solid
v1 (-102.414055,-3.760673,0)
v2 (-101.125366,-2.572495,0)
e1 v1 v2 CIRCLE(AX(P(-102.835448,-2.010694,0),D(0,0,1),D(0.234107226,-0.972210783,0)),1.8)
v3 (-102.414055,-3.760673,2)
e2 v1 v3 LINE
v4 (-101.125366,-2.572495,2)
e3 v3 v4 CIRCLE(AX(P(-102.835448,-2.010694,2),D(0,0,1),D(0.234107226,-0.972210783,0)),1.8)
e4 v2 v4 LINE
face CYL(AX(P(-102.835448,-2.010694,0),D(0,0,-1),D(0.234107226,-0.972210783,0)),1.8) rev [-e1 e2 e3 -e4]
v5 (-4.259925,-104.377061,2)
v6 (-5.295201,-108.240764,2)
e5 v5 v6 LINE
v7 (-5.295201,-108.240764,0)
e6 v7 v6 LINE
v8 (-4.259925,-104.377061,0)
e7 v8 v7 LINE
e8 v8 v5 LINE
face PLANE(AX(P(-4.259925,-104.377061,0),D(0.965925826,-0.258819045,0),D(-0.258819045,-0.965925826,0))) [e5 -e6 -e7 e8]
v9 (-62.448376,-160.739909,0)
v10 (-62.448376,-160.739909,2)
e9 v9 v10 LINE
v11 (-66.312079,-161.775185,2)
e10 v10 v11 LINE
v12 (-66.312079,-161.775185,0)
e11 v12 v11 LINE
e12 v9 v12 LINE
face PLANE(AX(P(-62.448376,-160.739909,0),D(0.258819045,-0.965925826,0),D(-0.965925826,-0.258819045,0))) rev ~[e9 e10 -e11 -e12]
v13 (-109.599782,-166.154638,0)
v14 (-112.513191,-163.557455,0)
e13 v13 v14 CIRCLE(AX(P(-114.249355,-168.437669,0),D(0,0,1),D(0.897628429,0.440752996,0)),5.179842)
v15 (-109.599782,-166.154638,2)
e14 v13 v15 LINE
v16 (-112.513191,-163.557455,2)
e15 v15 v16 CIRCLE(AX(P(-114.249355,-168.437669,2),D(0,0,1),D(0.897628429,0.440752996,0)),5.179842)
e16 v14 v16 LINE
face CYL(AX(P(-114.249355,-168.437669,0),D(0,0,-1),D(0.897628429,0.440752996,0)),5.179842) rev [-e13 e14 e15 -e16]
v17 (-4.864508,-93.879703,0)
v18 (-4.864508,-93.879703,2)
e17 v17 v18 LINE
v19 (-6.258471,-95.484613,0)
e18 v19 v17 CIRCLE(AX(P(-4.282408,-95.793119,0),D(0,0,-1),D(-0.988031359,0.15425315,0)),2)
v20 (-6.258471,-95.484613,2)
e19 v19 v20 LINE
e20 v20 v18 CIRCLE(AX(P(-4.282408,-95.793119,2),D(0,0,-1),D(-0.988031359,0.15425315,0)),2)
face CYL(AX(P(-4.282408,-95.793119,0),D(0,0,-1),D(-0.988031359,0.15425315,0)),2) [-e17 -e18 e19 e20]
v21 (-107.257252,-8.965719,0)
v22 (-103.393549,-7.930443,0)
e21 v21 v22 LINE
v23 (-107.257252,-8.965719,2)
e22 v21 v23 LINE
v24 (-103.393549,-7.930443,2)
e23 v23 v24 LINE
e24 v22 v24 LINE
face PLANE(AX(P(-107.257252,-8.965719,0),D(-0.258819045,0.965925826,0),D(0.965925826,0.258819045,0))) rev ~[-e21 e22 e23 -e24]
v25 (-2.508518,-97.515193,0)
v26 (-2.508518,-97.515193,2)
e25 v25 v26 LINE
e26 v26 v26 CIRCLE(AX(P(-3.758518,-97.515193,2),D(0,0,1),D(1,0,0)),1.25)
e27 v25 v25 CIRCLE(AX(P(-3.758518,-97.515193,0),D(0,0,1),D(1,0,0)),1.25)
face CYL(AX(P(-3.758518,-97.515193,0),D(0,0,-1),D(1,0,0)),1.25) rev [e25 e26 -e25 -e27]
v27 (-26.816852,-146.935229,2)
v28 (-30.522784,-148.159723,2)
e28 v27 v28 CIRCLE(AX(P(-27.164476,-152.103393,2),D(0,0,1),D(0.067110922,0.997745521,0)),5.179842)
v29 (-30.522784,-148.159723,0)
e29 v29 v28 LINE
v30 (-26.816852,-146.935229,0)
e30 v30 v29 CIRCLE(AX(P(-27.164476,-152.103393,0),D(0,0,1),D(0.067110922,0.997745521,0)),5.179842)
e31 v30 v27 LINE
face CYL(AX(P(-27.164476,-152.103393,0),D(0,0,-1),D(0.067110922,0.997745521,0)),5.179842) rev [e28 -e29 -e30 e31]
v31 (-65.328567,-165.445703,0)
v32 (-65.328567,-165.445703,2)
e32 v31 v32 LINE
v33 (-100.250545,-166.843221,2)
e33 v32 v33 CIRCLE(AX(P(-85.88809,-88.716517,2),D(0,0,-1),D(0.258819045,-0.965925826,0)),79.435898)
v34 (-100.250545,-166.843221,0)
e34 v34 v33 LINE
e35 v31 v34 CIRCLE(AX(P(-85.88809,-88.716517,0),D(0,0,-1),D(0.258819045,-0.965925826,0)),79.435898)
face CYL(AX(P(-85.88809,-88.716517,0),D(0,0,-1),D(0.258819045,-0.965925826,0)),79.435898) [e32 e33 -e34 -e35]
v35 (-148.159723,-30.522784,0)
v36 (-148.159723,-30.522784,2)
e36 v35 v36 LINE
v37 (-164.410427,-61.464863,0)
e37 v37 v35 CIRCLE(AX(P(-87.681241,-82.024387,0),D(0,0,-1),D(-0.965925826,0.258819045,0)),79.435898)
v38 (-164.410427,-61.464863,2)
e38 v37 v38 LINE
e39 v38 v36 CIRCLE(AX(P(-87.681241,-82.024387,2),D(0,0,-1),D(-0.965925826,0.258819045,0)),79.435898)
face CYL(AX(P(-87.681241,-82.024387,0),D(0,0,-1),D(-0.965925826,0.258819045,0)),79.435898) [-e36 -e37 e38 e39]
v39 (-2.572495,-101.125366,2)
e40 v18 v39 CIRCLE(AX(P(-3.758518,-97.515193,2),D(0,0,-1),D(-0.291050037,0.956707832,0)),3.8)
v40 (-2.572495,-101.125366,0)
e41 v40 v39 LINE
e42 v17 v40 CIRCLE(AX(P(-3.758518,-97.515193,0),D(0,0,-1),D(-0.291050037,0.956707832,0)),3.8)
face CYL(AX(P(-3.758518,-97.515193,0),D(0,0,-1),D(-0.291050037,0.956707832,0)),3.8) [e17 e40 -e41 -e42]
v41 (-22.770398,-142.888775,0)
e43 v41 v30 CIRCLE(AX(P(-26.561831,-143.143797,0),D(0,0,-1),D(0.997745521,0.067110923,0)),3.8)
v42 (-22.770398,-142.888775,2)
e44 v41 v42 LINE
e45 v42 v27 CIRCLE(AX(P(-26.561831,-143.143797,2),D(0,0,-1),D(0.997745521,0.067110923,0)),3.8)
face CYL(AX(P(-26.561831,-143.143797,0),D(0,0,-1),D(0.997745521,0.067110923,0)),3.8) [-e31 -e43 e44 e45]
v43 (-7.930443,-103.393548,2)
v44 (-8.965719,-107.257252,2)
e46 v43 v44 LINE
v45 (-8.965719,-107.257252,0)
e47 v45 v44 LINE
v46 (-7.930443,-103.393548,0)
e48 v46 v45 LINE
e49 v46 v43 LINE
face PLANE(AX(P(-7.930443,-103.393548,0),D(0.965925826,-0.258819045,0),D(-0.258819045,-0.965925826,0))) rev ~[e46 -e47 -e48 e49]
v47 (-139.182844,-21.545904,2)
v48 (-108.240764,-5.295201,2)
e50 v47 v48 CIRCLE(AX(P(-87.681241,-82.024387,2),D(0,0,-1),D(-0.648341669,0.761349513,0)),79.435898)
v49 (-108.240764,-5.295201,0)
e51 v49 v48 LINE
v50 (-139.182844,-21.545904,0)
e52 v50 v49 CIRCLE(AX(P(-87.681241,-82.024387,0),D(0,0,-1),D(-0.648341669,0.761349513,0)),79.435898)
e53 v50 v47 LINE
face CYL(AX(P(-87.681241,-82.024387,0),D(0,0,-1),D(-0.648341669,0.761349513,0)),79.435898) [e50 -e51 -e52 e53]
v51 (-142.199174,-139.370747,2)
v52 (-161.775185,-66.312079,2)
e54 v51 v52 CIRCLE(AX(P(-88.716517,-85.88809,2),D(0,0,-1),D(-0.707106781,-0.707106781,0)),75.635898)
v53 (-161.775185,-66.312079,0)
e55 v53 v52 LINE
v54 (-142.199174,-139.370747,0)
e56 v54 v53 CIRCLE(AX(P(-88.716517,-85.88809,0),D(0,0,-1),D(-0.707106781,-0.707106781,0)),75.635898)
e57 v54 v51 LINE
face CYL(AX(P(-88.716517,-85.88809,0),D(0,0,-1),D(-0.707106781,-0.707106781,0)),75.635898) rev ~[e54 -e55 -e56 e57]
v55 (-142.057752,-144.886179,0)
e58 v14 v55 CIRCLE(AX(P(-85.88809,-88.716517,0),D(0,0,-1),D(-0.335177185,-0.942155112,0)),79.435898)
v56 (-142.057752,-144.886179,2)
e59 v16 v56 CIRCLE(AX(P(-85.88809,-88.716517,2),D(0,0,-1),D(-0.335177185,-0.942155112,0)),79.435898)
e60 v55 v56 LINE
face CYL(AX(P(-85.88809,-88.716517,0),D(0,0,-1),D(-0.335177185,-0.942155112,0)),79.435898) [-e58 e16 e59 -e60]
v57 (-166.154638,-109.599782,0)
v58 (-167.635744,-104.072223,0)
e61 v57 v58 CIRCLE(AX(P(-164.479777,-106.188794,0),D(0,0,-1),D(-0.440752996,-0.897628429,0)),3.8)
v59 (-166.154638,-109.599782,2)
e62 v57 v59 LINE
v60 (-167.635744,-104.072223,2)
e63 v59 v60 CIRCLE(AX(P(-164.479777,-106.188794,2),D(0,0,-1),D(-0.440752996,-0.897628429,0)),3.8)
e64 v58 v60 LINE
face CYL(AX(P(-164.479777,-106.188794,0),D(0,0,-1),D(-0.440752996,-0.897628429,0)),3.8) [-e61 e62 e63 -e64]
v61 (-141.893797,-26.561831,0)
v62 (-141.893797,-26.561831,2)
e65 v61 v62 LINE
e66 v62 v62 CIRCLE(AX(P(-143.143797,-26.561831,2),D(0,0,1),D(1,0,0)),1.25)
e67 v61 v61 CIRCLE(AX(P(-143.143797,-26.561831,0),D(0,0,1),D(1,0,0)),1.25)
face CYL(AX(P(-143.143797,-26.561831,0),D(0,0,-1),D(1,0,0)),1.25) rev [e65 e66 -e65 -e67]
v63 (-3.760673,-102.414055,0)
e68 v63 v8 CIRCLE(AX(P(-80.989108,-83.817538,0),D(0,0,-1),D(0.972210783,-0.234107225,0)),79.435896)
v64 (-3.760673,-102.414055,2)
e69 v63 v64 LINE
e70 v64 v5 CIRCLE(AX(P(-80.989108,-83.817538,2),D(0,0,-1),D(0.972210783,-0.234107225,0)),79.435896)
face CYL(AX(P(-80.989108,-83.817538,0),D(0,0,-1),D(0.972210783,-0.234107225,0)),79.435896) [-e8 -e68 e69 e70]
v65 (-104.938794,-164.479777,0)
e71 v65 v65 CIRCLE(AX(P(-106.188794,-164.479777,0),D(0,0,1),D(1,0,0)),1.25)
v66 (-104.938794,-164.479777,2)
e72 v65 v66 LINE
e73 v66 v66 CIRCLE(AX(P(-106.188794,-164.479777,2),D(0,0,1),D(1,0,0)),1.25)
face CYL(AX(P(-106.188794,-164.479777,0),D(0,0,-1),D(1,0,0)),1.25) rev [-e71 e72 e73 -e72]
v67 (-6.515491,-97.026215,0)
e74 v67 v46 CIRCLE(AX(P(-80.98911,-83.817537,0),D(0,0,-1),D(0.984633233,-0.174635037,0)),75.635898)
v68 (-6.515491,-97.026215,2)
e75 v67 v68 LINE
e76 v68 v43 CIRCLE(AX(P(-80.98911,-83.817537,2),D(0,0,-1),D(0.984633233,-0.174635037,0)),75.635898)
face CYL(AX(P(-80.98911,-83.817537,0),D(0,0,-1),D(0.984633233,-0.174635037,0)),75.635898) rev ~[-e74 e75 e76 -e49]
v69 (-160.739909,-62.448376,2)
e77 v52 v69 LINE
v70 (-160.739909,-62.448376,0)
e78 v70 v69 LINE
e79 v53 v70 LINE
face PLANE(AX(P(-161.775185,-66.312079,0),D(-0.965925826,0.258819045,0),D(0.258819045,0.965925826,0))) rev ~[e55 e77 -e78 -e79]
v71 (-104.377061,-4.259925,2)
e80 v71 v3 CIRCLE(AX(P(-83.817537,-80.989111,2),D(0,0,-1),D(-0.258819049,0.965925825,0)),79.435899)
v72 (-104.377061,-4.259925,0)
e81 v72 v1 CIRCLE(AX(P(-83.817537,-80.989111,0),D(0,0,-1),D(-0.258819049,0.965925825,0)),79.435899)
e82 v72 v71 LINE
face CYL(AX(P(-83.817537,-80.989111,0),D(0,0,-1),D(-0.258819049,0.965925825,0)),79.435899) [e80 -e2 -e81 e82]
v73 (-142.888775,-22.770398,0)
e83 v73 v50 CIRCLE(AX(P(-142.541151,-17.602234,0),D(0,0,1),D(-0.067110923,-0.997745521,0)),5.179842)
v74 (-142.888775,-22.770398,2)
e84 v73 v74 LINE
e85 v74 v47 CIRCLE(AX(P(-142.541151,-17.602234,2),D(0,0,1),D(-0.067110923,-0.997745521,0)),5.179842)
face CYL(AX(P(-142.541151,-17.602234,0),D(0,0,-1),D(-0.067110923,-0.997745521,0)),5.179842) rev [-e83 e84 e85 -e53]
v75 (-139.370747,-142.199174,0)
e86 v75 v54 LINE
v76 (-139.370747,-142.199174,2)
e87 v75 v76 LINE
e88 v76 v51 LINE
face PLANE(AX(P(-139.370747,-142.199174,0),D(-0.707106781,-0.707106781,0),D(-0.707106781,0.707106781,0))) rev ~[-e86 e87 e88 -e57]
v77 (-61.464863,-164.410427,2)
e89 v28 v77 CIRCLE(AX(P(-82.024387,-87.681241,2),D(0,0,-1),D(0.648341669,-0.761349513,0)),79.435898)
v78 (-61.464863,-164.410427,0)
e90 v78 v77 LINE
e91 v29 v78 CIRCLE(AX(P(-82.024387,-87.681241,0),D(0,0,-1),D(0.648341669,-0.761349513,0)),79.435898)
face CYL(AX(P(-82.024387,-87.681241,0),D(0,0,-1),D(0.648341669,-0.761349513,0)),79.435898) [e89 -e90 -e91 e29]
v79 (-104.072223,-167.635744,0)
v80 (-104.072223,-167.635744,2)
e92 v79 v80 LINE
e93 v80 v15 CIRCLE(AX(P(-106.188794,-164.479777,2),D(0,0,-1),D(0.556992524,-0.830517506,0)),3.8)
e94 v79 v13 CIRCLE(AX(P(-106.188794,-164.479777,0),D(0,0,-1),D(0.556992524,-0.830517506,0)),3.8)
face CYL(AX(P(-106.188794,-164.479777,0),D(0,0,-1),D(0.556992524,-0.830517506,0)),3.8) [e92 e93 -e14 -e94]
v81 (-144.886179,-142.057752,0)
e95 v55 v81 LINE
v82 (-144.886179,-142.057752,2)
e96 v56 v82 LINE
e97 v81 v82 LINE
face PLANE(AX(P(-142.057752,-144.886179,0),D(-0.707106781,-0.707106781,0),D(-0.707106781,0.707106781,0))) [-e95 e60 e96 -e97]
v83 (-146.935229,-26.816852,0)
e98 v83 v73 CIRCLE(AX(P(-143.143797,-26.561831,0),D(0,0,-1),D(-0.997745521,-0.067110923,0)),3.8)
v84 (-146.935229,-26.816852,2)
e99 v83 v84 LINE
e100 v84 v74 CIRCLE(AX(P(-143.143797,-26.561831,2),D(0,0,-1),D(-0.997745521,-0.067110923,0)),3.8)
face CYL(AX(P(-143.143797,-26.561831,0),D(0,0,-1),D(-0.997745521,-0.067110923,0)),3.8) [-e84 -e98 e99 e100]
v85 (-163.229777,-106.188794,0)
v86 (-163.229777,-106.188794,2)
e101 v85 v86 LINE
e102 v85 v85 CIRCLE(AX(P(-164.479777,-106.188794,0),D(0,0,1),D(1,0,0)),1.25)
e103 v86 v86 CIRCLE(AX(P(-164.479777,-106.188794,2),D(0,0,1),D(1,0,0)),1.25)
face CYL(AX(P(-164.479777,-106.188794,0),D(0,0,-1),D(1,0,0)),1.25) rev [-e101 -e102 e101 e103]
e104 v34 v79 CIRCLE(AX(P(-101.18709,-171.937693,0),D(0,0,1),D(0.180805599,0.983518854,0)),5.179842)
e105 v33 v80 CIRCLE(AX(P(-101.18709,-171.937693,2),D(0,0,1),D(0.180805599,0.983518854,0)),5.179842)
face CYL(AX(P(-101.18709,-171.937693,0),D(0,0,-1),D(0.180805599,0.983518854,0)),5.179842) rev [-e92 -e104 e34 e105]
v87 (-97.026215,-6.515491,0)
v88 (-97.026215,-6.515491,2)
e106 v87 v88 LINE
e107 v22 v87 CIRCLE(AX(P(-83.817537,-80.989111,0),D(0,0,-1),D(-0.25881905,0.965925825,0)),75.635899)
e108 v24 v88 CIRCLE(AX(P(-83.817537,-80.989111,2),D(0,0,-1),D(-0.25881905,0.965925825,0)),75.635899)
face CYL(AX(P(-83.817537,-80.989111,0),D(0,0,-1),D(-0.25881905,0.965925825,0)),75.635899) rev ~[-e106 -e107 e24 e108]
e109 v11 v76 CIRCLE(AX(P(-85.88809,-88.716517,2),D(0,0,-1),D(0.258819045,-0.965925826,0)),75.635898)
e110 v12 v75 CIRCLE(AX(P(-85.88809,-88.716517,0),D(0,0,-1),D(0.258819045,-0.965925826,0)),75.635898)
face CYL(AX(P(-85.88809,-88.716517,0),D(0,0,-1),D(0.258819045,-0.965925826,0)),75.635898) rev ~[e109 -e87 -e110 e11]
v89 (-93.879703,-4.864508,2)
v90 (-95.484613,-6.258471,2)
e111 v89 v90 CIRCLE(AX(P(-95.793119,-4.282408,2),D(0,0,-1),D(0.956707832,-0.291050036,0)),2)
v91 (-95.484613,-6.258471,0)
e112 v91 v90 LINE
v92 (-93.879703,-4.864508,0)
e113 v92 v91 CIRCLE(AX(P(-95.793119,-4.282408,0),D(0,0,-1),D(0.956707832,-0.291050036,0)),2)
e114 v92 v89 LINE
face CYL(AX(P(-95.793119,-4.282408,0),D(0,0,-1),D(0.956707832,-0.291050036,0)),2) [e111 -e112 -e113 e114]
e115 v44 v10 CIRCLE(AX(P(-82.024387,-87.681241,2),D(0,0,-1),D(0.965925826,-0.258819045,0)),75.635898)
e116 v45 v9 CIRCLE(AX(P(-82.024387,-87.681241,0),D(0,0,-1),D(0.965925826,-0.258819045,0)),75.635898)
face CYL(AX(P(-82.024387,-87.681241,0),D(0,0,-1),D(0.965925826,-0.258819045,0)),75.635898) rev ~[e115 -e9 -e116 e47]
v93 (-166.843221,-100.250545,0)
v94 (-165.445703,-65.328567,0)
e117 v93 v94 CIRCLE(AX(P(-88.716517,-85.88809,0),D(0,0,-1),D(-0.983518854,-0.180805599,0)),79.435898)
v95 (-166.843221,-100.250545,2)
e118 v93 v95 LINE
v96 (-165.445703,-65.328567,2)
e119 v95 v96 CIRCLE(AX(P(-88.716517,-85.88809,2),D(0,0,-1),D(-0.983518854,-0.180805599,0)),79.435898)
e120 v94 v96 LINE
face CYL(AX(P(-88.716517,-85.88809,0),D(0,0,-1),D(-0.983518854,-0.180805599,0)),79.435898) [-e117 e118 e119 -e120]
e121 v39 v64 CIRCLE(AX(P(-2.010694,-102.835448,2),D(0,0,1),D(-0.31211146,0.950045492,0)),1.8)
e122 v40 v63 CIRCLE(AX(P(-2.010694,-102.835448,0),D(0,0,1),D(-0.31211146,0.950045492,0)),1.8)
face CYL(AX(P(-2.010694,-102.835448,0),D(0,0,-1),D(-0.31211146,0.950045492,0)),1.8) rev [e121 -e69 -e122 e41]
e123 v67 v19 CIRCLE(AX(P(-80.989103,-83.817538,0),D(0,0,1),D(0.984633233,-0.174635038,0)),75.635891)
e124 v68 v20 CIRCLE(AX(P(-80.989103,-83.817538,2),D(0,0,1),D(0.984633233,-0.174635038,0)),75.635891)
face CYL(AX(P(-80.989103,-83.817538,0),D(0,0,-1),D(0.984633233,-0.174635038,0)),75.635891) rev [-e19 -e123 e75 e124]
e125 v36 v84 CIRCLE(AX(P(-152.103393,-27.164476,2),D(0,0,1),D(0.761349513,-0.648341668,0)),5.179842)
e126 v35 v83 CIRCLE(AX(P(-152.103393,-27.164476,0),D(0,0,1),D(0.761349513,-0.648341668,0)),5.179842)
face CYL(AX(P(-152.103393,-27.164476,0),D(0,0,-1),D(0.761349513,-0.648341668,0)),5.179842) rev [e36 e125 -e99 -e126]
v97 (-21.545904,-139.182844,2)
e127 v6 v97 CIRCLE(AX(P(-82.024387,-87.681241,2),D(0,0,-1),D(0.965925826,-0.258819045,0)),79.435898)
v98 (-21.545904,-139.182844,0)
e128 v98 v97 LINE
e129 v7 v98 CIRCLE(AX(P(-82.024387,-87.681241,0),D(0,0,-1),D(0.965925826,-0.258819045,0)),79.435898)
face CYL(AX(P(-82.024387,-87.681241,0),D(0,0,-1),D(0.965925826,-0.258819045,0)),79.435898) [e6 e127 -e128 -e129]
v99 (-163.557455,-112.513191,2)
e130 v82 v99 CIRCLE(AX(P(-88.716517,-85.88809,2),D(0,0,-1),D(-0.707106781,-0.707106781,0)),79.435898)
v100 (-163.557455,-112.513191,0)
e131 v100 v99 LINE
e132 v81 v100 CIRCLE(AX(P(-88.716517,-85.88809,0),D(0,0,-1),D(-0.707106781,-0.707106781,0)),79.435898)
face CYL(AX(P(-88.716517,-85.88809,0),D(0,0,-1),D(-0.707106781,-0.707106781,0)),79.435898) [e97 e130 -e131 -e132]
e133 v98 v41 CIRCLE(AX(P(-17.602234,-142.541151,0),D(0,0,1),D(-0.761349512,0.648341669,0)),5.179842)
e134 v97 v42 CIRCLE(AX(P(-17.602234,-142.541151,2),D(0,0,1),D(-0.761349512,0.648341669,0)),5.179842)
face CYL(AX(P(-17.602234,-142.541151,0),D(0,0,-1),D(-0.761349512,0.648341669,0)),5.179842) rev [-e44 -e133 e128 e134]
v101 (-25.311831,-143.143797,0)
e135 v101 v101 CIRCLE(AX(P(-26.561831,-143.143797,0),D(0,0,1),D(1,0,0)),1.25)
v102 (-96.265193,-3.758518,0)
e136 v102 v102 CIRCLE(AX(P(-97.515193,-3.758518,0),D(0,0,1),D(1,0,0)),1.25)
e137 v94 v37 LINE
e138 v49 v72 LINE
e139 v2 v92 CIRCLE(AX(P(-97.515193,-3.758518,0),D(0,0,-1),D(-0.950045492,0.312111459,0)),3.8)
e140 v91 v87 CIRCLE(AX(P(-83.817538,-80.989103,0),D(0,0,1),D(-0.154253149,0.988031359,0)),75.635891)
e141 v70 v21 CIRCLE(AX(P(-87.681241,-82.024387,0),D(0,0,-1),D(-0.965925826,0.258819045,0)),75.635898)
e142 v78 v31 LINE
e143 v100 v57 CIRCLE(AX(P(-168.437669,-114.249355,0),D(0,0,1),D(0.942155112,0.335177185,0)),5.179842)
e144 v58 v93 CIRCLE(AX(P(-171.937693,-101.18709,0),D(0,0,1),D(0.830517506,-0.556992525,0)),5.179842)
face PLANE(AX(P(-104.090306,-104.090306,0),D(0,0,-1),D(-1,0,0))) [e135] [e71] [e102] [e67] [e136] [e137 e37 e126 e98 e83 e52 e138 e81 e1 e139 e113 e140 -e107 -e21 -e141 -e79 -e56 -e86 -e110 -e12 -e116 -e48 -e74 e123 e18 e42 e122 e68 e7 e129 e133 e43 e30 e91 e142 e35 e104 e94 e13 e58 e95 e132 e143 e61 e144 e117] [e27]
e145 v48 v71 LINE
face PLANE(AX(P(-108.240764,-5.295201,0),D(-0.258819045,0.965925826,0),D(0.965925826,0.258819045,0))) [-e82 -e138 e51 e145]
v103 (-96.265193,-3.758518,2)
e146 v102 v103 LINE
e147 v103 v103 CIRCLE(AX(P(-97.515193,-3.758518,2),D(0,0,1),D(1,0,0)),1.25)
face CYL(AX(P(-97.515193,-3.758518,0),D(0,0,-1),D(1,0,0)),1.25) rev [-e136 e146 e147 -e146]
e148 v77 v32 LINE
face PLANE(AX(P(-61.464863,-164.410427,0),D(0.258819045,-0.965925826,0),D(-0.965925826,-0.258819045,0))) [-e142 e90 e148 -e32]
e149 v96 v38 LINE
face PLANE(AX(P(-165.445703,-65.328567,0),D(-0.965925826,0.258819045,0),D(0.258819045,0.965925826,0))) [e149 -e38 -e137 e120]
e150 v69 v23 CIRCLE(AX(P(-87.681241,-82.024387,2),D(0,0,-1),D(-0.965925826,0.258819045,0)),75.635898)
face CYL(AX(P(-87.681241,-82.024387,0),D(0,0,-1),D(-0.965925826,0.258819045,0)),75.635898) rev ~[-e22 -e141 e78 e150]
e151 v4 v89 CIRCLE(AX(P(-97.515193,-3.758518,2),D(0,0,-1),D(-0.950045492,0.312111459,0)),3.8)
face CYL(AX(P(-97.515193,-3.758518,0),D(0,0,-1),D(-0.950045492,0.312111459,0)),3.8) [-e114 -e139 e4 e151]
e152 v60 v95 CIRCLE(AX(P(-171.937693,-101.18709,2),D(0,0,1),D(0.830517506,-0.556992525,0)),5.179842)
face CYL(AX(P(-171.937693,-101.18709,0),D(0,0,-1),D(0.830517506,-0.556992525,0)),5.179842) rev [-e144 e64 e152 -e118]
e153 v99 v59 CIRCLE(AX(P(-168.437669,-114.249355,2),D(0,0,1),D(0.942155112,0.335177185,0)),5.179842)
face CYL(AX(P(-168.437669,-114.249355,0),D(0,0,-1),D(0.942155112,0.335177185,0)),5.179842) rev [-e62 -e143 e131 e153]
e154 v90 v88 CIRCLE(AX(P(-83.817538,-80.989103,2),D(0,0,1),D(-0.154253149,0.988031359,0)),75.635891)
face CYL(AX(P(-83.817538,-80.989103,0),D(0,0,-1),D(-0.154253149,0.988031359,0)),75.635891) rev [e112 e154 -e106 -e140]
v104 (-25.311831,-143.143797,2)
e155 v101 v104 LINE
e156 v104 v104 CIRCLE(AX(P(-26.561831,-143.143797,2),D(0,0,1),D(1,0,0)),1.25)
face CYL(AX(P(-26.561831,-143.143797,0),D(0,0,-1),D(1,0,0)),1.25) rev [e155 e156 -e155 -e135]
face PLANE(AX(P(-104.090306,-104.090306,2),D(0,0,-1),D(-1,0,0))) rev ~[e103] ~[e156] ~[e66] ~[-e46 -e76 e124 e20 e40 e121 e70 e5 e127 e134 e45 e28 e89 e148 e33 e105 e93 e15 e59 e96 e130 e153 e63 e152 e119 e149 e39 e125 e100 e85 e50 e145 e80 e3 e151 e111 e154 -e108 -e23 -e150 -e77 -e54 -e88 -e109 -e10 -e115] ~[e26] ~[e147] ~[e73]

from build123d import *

# Parameters (mm, degrees)
SKETCH_1_R      = 1.249999998
SKETCH_1_R_2    = 1.25
EXTRUDE_1_DEPTH = 2
SKETCH_2_R      = 1.249999998
SKETCH_2_R_2    = 1.25
EXTRUDE_2_DEPTH = 2


with BuildPart() as part:
    # 草图1 → 凸台-拉伸1 (new body)
    with BuildSketch(Plane.XY):
        with BuildLine():
            Line((-6.26112666, -107.981945189), (-5.225850479, -104.118241884))
            ThreePointArc((-5.225850479, -104.118241884), (-4.973189102, -103.150666115), (-4.732884138, -102.17994774))
            ThreePointArc((-4.732884138, -102.17994774), (-4.069242074, -100.937454399), (-2.884606032, -100.175320593))
            ThreePointArc((-2.884606032, -100.175320593), (-1.923934791, -95.399938144), (-6.515491171, -97.026215112))
            ThreePointArc((-6.515491171, -97.026215112), (-7.154297104, -100.225141497), (-7.930442698, -103.393548202))
            Line((-7.930442698, -103.393548202), (-8.965718973, -107.257251863))
            ThreePointArc((-8.965718973, -107.257251863), (-28.541729969, -141.163897516), (-62.448375622, -160.739908512))
            Line((-62.448375622, -160.739908512), (-66.312078927, -161.775184692))
            ThreePointArc((-66.312078927, -161.775184692), (-105.464100918, -161.775184692), (-139.370746572, -142.199173697))
            Line((-139.370746572, -142.199173697), (-142.199173697, -139.370746572))
            ThreePointArc((-142.199173697, -139.370746572), (-161.775184692, -105.464100918), (-161.775184692, -66.312078927))
            Line((-161.775184692, -66.312078927), (-160.739908512, -62.448375622))
            ThreePointArc((-160.739908512, -62.448375622), (-141.163897516, -28.541729969), (-107.257251863, -8.965718973))
            Line((-107.257251863, -8.965718973), (-103.393548557, -7.930442793))
            ThreePointArc((-103.393548557, -7.930442793), (-100.225141676, -7.154297144), (-97.026215112, -6.515491171))
            ThreePointArc((-97.026215112, -6.515491171), (-95.399938144, -1.923934791), (-100.175320593, -2.884606032))
            ThreePointArc((-100.175320593, -2.884606032), (-100.937454399, -4.069242074), (-102.17994774, -4.732884138))
            ThreePointArc((-102.17994774, -4.732884138), (-103.150666115, -4.973189102), (-104.118241884, -5.225850479))
            Line((-104.118241884, -5.225850479), (-107.981945189, -6.26112666))
            ThreePointArc((-107.981945189, -6.26112666), (-124.151656982, -12.583052357), (-138.534502117, -22.307253601))
            ThreePointArc((-138.534502117, -22.307253601), (-140.602334013, -23.470064414), (-142.95588592, -23.768143523))
            ThreePointArc((-142.95588592, -23.768143523), (-145.123695491, -24.581931994), (-145.937483961, -26.749741565))
            ThreePointArc((-145.937483961, -26.749741565), (-146.235563071, -29.103293472), (-147.398373884, -31.171125368))
            ThreePointArc((-147.398373884, -31.171125368), (-157.122575127, -45.553970503), (-163.444500825, -61.723682296))
            Line((-163.444500825, -61.723682296), (-164.479777006, -65.587385601))
            ThreePointArc((-164.479777006, -65.587385601), (-167.089684647, -82.751729635), (-165.859701906, -100.069739522))
            ThreePointArc((-165.859701906, -100.069739522), (-165.88659415, -102.441939881), (-166.805226023, -104.629215177))
            ThreePointArc((-166.805226023, -104.629215177), (-167.184369319, -106.913487571), (-165.713885396, -108.702153845))
            ThreePointArc((-165.713885396, -108.702153845), (-163.824689209, -110.13707388), (-162.615299663, -112.178013531))
            ThreePointArc((-162.615299663, -112.178013531), (-155.02149102, -127.790841407), (-144.179072684, -141.350645559))
            Line((-144.179072684, -141.350645559), (-141.350645559, -144.179072684))
            ThreePointArc((-141.350645559, -144.179072684), (-127.790841407, -155.02149102), (-112.178013531, -162.615299663))
            ThreePointArc((-112.178013531, -162.615299663), (-110.13707388, -163.824689209), (-108.702153845, -165.713885396))
            ThreePointArc((-108.702153845, -165.713885396), (-106.913487571, -167.184369319), (-104.629215177, -166.805226023))
            ThreePointArc((-104.629215177, -166.805226023), (-102.441939881, -165.88659415), (-100.069739522, -165.859701906))
            ThreePointArc((-100.069739522, -165.859701906), (-82.751729635, -167.089684647), (-65.587385601, -164.479777006))
            Line((-65.587385601, -164.479777006), (-61.723682296, -163.444500825))
            ThreePointArc((-61.723682296, -163.444500825), (-45.553970503, -157.122575127), (-31.171125368, -147.398373884))
            ThreePointArc((-31.171125368, -147.398373884), (-29.103293472, -146.235563071), (-26.749741565, -145.937483961))
            ThreePointArc((-26.749741565, -145.937483961), (-24.581931994, -145.123695491), (-23.768143523, -142.95588592))
            ThreePointArc((-23.768143523, -142.95588592), (-23.470064414, -140.602334013), (-22.307253601, -138.534502117))
            ThreePointArc((-22.307253601, -138.534502117), (-12.583052357, -124.151656982), (-6.26112666, -107.981945189))
        make_face()
        with Locations((-97.515193216, -3.758518118)):
            Circle(SKETCH_1_R, mode=Mode.SUBTRACT)
        with Locations((-164.479777006, -106.188794245)):
            Circle(SKETCH_1_R_2, mode=Mode.SUBTRACT)
        with Locations((-106.188794245, -164.479777006)):
            Circle(SKETCH_1_R_2, mode=Mode.SUBTRACT)
        with Locations((-26.561830981, -143.143796504)):
            Circle(SKETCH_1_R_2, mode=Mode.SUBTRACT)
        with Locations((-3.758518118, -97.515193216)):
            Circle(SKETCH_1_R_2, mode=Mode.SUBTRACT)
        with Locations((-143.143796504, -26.561830981)):
            Circle(SKETCH_1_R_2, mode=Mode.SUBTRACT)
    extrude(amount=EXTRUDE_1_DEPTH)

    # 草图2 → 凸台-拉伸2 (add)
    with BuildSketch(Plane(origin=(0, 0, 0), x_dir=(-1, 0, 0), z_dir=(0, 0, -1))):
        with BuildLine():
            Line((4.259924653, -104.377060929), (5.295200833, -108.240764234))
            ThreePointArc((5.295200833, -108.240764234), (11.697726433, -124.616627957), (21.545904088, -139.182843786))
            ThreePointArc((21.545904088, -139.182843786), (22.520552994, -140.916066483), (22.770398003, -142.888774997))
            ThreePointArc((22.770398003, -142.888774997), (23.874825213, -145.830802272), (26.816852488, -146.935229482))
            ThreePointArc((26.816852488, -146.935229482), (28.789561001, -147.185074491), (30.522783699, -148.159723396))
            ThreePointArc((30.522783699, -148.159723396), (45.088999528, -158.007901052), (61.464863251, -164.410426652))
            Line((61.464863251, -164.410426652), (65.328566556, -165.445702832))
            ThreePointArc((65.328566556, -165.445702832), (82.711743348, -168.088884876), (100.250545121, -166.843220759))
            ThreePointArc((100.250545121, -166.843220759), (102.238884461, -166.865761396), (104.072222652, -167.635743529))
            ThreePointArc((104.072222652, -167.635743529), (107.172306616, -168.150295146), (109.599782274, -166.154638392))
            ThreePointArc((109.599782274, -166.154638392), (110.802508655, -164.571145209), (112.513190716, -163.557454775))
            ThreePointArc((112.513190716, -163.557454775), (128.325070661, -155.866830658), (142.05775234, -144.886179465))
            Line((142.05775234, -144.886179465), (144.886179465, -142.05775234))
            ThreePointArc((144.886179465, -142.05775234), (155.866830658, -128.325070661), (163.557454775, -112.513190716))
            ThreePointArc((163.557454775, -112.513190716), (164.571145209, -110.802508655), (166.154638392, -109.599782274))
            ThreePointArc((166.154638392, -109.599782274), (168.150295146, -107.172306616), (167.635743529, -104.072222652))
            ThreePointArc((167.635743529, -104.072222652), (166.865761396, -102.238884461), (166.843220759, -100.250545121))
            ThreePointArc((166.843220759, -100.250545121), (168.088884876, -82.711743348), (165.445702832, -65.328566556))
            Line((165.445702832, -65.328566556), (164.410426652, -61.464863251))
            ThreePointArc((164.410426652, -61.464863251), (158.007901052, -45.088999528), (148.159723396, -30.522783699))
            ThreePointArc((148.159723396, -30.522783699), (147.185074491, -28.789561001), (146.935229482, -26.816852488))
            ThreePointArc((146.935229482, -26.816852488), (145.830802272, -23.874825213), (142.888774997, -22.770398003))
            ThreePointArc((142.888774997, -22.770398003), (140.916066483, -22.520552994), (139.182843786, -21.545904088))
            ThreePointArc((139.182843786, -21.545904088), (124.616627957, -11.697726433), (108.240764234, -5.295200833))
            Line((108.240764234, -5.295200833), (104.377060933, -4.259924654))
            ThreePointArc((104.377060933, -4.259924654), (103.397149286, -4.00404203), (102.414054965, -3.760673355))
            ThreePointArc((102.414054965, -3.760673355), (101.615309246, -3.334046314), (101.125366085, -2.572494572))
            ThreePointArc((101.125366085, -2.572494572), (96.369116464, -0.135465803), (93.879703454, -4.864508258))
            ThreePointArc((93.879703454, -4.864508258), (94.48162483, -5.792369354), (95.484612817, -6.258470902))
            ThreePointArc((95.484612817, -6.258470902), (96.256077841, -6.382999122), (97.026215112, -6.515491171))
            ThreePointArc((97.026215112, -6.515491171), (100.225141676, -7.154297144), (103.393548557, -7.930442793))
            Line((103.393548557, -7.930442793), (107.257251863, -8.965718973))
            ThreePointArc((107.257251863, -8.965718973), (141.163897516, -28.541729969), (160.739908512, -62.448375622))
            Line((160.739908512, -62.448375622), (161.775184692, -66.312078927))
            ThreePointArc((161.775184692, -66.312078927), (161.775184692, -105.464100918), (142.199173697, -139.370746572))
            Line((142.199173697, -139.370746572), (139.370746572, -142.199173697))
            ThreePointArc((139.370746572, -142.199173697), (105.464100918, -161.775184692), (66.312078927, -161.775184692))
            Line((66.312078927, -161.775184692), (62.448375622, -160.739908512))
            ThreePointArc((62.448375622, -160.739908512), (28.541729969, -141.163897516), (8.965718973, -107.257251863))
            Line((8.965718973, -107.257251863), (7.930442698, -103.393548202))
            ThreePointArc((7.930442698, -103.393548202), (7.154297104, -100.225141497), (6.515491171, -97.026215112))
            ThreePointArc((6.515491171, -97.026215112), (6.382999122, -96.256077841), (6.258470902, -95.484612817))
            ThreePointArc((6.258470902, -95.484612817), (5.792369354, -94.48162483), (4.864508258, -93.879703454))
            ThreePointArc((4.864508258, -93.879703454), (0.135465803, -96.369116464), (2.572494572, -101.125366085))
            ThreePointArc((2.572494572, -101.125366085), (3.334046314, -101.615309246), (3.760673355, -102.414054965))
            ThreePointArc((3.760673355, -102.414054965), (4.004042029, -103.397149283), (4.259924653, -104.377060929))
        make_face()
        with Locations(Location((97.515193216, -3.758518118, 0), (0, 0, 180))):
            Circle(SKETCH_2_R, mode=Mode.SUBTRACT)
        with Locations(Location((164.479777006, -106.188794245, 0), (0, 0, 180))):
            Circle(SKETCH_2_R_2, mode=Mode.SUBTRACT)
        with Locations(Location((106.188794245, -164.479777006, 0), (0, 0, 180))):
            Circle(SKETCH_2_R_2, mode=Mode.SUBTRACT)
        with Locations(Location((26.561830981, -143.143796504, 0), (0, 0, 180))):
            Circle(SKETCH_2_R_2, mode=Mode.SUBTRACT)
        with Locations(Location((3.758518118, -97.515193216, 0), (0, 0, 180))):
            Circle(SKETCH_2_R_2, mode=Mode.SUBTRACT)
        with Locations(Location((143.143796504, -26.561830981, 0), (0, 0, 180))):
            Circle(SKETCH_2_R_2, mode=Mode.SUBTRACT)
    extrude(amount=-EXTRUDE_2_DEPTH)


solid = part.part
